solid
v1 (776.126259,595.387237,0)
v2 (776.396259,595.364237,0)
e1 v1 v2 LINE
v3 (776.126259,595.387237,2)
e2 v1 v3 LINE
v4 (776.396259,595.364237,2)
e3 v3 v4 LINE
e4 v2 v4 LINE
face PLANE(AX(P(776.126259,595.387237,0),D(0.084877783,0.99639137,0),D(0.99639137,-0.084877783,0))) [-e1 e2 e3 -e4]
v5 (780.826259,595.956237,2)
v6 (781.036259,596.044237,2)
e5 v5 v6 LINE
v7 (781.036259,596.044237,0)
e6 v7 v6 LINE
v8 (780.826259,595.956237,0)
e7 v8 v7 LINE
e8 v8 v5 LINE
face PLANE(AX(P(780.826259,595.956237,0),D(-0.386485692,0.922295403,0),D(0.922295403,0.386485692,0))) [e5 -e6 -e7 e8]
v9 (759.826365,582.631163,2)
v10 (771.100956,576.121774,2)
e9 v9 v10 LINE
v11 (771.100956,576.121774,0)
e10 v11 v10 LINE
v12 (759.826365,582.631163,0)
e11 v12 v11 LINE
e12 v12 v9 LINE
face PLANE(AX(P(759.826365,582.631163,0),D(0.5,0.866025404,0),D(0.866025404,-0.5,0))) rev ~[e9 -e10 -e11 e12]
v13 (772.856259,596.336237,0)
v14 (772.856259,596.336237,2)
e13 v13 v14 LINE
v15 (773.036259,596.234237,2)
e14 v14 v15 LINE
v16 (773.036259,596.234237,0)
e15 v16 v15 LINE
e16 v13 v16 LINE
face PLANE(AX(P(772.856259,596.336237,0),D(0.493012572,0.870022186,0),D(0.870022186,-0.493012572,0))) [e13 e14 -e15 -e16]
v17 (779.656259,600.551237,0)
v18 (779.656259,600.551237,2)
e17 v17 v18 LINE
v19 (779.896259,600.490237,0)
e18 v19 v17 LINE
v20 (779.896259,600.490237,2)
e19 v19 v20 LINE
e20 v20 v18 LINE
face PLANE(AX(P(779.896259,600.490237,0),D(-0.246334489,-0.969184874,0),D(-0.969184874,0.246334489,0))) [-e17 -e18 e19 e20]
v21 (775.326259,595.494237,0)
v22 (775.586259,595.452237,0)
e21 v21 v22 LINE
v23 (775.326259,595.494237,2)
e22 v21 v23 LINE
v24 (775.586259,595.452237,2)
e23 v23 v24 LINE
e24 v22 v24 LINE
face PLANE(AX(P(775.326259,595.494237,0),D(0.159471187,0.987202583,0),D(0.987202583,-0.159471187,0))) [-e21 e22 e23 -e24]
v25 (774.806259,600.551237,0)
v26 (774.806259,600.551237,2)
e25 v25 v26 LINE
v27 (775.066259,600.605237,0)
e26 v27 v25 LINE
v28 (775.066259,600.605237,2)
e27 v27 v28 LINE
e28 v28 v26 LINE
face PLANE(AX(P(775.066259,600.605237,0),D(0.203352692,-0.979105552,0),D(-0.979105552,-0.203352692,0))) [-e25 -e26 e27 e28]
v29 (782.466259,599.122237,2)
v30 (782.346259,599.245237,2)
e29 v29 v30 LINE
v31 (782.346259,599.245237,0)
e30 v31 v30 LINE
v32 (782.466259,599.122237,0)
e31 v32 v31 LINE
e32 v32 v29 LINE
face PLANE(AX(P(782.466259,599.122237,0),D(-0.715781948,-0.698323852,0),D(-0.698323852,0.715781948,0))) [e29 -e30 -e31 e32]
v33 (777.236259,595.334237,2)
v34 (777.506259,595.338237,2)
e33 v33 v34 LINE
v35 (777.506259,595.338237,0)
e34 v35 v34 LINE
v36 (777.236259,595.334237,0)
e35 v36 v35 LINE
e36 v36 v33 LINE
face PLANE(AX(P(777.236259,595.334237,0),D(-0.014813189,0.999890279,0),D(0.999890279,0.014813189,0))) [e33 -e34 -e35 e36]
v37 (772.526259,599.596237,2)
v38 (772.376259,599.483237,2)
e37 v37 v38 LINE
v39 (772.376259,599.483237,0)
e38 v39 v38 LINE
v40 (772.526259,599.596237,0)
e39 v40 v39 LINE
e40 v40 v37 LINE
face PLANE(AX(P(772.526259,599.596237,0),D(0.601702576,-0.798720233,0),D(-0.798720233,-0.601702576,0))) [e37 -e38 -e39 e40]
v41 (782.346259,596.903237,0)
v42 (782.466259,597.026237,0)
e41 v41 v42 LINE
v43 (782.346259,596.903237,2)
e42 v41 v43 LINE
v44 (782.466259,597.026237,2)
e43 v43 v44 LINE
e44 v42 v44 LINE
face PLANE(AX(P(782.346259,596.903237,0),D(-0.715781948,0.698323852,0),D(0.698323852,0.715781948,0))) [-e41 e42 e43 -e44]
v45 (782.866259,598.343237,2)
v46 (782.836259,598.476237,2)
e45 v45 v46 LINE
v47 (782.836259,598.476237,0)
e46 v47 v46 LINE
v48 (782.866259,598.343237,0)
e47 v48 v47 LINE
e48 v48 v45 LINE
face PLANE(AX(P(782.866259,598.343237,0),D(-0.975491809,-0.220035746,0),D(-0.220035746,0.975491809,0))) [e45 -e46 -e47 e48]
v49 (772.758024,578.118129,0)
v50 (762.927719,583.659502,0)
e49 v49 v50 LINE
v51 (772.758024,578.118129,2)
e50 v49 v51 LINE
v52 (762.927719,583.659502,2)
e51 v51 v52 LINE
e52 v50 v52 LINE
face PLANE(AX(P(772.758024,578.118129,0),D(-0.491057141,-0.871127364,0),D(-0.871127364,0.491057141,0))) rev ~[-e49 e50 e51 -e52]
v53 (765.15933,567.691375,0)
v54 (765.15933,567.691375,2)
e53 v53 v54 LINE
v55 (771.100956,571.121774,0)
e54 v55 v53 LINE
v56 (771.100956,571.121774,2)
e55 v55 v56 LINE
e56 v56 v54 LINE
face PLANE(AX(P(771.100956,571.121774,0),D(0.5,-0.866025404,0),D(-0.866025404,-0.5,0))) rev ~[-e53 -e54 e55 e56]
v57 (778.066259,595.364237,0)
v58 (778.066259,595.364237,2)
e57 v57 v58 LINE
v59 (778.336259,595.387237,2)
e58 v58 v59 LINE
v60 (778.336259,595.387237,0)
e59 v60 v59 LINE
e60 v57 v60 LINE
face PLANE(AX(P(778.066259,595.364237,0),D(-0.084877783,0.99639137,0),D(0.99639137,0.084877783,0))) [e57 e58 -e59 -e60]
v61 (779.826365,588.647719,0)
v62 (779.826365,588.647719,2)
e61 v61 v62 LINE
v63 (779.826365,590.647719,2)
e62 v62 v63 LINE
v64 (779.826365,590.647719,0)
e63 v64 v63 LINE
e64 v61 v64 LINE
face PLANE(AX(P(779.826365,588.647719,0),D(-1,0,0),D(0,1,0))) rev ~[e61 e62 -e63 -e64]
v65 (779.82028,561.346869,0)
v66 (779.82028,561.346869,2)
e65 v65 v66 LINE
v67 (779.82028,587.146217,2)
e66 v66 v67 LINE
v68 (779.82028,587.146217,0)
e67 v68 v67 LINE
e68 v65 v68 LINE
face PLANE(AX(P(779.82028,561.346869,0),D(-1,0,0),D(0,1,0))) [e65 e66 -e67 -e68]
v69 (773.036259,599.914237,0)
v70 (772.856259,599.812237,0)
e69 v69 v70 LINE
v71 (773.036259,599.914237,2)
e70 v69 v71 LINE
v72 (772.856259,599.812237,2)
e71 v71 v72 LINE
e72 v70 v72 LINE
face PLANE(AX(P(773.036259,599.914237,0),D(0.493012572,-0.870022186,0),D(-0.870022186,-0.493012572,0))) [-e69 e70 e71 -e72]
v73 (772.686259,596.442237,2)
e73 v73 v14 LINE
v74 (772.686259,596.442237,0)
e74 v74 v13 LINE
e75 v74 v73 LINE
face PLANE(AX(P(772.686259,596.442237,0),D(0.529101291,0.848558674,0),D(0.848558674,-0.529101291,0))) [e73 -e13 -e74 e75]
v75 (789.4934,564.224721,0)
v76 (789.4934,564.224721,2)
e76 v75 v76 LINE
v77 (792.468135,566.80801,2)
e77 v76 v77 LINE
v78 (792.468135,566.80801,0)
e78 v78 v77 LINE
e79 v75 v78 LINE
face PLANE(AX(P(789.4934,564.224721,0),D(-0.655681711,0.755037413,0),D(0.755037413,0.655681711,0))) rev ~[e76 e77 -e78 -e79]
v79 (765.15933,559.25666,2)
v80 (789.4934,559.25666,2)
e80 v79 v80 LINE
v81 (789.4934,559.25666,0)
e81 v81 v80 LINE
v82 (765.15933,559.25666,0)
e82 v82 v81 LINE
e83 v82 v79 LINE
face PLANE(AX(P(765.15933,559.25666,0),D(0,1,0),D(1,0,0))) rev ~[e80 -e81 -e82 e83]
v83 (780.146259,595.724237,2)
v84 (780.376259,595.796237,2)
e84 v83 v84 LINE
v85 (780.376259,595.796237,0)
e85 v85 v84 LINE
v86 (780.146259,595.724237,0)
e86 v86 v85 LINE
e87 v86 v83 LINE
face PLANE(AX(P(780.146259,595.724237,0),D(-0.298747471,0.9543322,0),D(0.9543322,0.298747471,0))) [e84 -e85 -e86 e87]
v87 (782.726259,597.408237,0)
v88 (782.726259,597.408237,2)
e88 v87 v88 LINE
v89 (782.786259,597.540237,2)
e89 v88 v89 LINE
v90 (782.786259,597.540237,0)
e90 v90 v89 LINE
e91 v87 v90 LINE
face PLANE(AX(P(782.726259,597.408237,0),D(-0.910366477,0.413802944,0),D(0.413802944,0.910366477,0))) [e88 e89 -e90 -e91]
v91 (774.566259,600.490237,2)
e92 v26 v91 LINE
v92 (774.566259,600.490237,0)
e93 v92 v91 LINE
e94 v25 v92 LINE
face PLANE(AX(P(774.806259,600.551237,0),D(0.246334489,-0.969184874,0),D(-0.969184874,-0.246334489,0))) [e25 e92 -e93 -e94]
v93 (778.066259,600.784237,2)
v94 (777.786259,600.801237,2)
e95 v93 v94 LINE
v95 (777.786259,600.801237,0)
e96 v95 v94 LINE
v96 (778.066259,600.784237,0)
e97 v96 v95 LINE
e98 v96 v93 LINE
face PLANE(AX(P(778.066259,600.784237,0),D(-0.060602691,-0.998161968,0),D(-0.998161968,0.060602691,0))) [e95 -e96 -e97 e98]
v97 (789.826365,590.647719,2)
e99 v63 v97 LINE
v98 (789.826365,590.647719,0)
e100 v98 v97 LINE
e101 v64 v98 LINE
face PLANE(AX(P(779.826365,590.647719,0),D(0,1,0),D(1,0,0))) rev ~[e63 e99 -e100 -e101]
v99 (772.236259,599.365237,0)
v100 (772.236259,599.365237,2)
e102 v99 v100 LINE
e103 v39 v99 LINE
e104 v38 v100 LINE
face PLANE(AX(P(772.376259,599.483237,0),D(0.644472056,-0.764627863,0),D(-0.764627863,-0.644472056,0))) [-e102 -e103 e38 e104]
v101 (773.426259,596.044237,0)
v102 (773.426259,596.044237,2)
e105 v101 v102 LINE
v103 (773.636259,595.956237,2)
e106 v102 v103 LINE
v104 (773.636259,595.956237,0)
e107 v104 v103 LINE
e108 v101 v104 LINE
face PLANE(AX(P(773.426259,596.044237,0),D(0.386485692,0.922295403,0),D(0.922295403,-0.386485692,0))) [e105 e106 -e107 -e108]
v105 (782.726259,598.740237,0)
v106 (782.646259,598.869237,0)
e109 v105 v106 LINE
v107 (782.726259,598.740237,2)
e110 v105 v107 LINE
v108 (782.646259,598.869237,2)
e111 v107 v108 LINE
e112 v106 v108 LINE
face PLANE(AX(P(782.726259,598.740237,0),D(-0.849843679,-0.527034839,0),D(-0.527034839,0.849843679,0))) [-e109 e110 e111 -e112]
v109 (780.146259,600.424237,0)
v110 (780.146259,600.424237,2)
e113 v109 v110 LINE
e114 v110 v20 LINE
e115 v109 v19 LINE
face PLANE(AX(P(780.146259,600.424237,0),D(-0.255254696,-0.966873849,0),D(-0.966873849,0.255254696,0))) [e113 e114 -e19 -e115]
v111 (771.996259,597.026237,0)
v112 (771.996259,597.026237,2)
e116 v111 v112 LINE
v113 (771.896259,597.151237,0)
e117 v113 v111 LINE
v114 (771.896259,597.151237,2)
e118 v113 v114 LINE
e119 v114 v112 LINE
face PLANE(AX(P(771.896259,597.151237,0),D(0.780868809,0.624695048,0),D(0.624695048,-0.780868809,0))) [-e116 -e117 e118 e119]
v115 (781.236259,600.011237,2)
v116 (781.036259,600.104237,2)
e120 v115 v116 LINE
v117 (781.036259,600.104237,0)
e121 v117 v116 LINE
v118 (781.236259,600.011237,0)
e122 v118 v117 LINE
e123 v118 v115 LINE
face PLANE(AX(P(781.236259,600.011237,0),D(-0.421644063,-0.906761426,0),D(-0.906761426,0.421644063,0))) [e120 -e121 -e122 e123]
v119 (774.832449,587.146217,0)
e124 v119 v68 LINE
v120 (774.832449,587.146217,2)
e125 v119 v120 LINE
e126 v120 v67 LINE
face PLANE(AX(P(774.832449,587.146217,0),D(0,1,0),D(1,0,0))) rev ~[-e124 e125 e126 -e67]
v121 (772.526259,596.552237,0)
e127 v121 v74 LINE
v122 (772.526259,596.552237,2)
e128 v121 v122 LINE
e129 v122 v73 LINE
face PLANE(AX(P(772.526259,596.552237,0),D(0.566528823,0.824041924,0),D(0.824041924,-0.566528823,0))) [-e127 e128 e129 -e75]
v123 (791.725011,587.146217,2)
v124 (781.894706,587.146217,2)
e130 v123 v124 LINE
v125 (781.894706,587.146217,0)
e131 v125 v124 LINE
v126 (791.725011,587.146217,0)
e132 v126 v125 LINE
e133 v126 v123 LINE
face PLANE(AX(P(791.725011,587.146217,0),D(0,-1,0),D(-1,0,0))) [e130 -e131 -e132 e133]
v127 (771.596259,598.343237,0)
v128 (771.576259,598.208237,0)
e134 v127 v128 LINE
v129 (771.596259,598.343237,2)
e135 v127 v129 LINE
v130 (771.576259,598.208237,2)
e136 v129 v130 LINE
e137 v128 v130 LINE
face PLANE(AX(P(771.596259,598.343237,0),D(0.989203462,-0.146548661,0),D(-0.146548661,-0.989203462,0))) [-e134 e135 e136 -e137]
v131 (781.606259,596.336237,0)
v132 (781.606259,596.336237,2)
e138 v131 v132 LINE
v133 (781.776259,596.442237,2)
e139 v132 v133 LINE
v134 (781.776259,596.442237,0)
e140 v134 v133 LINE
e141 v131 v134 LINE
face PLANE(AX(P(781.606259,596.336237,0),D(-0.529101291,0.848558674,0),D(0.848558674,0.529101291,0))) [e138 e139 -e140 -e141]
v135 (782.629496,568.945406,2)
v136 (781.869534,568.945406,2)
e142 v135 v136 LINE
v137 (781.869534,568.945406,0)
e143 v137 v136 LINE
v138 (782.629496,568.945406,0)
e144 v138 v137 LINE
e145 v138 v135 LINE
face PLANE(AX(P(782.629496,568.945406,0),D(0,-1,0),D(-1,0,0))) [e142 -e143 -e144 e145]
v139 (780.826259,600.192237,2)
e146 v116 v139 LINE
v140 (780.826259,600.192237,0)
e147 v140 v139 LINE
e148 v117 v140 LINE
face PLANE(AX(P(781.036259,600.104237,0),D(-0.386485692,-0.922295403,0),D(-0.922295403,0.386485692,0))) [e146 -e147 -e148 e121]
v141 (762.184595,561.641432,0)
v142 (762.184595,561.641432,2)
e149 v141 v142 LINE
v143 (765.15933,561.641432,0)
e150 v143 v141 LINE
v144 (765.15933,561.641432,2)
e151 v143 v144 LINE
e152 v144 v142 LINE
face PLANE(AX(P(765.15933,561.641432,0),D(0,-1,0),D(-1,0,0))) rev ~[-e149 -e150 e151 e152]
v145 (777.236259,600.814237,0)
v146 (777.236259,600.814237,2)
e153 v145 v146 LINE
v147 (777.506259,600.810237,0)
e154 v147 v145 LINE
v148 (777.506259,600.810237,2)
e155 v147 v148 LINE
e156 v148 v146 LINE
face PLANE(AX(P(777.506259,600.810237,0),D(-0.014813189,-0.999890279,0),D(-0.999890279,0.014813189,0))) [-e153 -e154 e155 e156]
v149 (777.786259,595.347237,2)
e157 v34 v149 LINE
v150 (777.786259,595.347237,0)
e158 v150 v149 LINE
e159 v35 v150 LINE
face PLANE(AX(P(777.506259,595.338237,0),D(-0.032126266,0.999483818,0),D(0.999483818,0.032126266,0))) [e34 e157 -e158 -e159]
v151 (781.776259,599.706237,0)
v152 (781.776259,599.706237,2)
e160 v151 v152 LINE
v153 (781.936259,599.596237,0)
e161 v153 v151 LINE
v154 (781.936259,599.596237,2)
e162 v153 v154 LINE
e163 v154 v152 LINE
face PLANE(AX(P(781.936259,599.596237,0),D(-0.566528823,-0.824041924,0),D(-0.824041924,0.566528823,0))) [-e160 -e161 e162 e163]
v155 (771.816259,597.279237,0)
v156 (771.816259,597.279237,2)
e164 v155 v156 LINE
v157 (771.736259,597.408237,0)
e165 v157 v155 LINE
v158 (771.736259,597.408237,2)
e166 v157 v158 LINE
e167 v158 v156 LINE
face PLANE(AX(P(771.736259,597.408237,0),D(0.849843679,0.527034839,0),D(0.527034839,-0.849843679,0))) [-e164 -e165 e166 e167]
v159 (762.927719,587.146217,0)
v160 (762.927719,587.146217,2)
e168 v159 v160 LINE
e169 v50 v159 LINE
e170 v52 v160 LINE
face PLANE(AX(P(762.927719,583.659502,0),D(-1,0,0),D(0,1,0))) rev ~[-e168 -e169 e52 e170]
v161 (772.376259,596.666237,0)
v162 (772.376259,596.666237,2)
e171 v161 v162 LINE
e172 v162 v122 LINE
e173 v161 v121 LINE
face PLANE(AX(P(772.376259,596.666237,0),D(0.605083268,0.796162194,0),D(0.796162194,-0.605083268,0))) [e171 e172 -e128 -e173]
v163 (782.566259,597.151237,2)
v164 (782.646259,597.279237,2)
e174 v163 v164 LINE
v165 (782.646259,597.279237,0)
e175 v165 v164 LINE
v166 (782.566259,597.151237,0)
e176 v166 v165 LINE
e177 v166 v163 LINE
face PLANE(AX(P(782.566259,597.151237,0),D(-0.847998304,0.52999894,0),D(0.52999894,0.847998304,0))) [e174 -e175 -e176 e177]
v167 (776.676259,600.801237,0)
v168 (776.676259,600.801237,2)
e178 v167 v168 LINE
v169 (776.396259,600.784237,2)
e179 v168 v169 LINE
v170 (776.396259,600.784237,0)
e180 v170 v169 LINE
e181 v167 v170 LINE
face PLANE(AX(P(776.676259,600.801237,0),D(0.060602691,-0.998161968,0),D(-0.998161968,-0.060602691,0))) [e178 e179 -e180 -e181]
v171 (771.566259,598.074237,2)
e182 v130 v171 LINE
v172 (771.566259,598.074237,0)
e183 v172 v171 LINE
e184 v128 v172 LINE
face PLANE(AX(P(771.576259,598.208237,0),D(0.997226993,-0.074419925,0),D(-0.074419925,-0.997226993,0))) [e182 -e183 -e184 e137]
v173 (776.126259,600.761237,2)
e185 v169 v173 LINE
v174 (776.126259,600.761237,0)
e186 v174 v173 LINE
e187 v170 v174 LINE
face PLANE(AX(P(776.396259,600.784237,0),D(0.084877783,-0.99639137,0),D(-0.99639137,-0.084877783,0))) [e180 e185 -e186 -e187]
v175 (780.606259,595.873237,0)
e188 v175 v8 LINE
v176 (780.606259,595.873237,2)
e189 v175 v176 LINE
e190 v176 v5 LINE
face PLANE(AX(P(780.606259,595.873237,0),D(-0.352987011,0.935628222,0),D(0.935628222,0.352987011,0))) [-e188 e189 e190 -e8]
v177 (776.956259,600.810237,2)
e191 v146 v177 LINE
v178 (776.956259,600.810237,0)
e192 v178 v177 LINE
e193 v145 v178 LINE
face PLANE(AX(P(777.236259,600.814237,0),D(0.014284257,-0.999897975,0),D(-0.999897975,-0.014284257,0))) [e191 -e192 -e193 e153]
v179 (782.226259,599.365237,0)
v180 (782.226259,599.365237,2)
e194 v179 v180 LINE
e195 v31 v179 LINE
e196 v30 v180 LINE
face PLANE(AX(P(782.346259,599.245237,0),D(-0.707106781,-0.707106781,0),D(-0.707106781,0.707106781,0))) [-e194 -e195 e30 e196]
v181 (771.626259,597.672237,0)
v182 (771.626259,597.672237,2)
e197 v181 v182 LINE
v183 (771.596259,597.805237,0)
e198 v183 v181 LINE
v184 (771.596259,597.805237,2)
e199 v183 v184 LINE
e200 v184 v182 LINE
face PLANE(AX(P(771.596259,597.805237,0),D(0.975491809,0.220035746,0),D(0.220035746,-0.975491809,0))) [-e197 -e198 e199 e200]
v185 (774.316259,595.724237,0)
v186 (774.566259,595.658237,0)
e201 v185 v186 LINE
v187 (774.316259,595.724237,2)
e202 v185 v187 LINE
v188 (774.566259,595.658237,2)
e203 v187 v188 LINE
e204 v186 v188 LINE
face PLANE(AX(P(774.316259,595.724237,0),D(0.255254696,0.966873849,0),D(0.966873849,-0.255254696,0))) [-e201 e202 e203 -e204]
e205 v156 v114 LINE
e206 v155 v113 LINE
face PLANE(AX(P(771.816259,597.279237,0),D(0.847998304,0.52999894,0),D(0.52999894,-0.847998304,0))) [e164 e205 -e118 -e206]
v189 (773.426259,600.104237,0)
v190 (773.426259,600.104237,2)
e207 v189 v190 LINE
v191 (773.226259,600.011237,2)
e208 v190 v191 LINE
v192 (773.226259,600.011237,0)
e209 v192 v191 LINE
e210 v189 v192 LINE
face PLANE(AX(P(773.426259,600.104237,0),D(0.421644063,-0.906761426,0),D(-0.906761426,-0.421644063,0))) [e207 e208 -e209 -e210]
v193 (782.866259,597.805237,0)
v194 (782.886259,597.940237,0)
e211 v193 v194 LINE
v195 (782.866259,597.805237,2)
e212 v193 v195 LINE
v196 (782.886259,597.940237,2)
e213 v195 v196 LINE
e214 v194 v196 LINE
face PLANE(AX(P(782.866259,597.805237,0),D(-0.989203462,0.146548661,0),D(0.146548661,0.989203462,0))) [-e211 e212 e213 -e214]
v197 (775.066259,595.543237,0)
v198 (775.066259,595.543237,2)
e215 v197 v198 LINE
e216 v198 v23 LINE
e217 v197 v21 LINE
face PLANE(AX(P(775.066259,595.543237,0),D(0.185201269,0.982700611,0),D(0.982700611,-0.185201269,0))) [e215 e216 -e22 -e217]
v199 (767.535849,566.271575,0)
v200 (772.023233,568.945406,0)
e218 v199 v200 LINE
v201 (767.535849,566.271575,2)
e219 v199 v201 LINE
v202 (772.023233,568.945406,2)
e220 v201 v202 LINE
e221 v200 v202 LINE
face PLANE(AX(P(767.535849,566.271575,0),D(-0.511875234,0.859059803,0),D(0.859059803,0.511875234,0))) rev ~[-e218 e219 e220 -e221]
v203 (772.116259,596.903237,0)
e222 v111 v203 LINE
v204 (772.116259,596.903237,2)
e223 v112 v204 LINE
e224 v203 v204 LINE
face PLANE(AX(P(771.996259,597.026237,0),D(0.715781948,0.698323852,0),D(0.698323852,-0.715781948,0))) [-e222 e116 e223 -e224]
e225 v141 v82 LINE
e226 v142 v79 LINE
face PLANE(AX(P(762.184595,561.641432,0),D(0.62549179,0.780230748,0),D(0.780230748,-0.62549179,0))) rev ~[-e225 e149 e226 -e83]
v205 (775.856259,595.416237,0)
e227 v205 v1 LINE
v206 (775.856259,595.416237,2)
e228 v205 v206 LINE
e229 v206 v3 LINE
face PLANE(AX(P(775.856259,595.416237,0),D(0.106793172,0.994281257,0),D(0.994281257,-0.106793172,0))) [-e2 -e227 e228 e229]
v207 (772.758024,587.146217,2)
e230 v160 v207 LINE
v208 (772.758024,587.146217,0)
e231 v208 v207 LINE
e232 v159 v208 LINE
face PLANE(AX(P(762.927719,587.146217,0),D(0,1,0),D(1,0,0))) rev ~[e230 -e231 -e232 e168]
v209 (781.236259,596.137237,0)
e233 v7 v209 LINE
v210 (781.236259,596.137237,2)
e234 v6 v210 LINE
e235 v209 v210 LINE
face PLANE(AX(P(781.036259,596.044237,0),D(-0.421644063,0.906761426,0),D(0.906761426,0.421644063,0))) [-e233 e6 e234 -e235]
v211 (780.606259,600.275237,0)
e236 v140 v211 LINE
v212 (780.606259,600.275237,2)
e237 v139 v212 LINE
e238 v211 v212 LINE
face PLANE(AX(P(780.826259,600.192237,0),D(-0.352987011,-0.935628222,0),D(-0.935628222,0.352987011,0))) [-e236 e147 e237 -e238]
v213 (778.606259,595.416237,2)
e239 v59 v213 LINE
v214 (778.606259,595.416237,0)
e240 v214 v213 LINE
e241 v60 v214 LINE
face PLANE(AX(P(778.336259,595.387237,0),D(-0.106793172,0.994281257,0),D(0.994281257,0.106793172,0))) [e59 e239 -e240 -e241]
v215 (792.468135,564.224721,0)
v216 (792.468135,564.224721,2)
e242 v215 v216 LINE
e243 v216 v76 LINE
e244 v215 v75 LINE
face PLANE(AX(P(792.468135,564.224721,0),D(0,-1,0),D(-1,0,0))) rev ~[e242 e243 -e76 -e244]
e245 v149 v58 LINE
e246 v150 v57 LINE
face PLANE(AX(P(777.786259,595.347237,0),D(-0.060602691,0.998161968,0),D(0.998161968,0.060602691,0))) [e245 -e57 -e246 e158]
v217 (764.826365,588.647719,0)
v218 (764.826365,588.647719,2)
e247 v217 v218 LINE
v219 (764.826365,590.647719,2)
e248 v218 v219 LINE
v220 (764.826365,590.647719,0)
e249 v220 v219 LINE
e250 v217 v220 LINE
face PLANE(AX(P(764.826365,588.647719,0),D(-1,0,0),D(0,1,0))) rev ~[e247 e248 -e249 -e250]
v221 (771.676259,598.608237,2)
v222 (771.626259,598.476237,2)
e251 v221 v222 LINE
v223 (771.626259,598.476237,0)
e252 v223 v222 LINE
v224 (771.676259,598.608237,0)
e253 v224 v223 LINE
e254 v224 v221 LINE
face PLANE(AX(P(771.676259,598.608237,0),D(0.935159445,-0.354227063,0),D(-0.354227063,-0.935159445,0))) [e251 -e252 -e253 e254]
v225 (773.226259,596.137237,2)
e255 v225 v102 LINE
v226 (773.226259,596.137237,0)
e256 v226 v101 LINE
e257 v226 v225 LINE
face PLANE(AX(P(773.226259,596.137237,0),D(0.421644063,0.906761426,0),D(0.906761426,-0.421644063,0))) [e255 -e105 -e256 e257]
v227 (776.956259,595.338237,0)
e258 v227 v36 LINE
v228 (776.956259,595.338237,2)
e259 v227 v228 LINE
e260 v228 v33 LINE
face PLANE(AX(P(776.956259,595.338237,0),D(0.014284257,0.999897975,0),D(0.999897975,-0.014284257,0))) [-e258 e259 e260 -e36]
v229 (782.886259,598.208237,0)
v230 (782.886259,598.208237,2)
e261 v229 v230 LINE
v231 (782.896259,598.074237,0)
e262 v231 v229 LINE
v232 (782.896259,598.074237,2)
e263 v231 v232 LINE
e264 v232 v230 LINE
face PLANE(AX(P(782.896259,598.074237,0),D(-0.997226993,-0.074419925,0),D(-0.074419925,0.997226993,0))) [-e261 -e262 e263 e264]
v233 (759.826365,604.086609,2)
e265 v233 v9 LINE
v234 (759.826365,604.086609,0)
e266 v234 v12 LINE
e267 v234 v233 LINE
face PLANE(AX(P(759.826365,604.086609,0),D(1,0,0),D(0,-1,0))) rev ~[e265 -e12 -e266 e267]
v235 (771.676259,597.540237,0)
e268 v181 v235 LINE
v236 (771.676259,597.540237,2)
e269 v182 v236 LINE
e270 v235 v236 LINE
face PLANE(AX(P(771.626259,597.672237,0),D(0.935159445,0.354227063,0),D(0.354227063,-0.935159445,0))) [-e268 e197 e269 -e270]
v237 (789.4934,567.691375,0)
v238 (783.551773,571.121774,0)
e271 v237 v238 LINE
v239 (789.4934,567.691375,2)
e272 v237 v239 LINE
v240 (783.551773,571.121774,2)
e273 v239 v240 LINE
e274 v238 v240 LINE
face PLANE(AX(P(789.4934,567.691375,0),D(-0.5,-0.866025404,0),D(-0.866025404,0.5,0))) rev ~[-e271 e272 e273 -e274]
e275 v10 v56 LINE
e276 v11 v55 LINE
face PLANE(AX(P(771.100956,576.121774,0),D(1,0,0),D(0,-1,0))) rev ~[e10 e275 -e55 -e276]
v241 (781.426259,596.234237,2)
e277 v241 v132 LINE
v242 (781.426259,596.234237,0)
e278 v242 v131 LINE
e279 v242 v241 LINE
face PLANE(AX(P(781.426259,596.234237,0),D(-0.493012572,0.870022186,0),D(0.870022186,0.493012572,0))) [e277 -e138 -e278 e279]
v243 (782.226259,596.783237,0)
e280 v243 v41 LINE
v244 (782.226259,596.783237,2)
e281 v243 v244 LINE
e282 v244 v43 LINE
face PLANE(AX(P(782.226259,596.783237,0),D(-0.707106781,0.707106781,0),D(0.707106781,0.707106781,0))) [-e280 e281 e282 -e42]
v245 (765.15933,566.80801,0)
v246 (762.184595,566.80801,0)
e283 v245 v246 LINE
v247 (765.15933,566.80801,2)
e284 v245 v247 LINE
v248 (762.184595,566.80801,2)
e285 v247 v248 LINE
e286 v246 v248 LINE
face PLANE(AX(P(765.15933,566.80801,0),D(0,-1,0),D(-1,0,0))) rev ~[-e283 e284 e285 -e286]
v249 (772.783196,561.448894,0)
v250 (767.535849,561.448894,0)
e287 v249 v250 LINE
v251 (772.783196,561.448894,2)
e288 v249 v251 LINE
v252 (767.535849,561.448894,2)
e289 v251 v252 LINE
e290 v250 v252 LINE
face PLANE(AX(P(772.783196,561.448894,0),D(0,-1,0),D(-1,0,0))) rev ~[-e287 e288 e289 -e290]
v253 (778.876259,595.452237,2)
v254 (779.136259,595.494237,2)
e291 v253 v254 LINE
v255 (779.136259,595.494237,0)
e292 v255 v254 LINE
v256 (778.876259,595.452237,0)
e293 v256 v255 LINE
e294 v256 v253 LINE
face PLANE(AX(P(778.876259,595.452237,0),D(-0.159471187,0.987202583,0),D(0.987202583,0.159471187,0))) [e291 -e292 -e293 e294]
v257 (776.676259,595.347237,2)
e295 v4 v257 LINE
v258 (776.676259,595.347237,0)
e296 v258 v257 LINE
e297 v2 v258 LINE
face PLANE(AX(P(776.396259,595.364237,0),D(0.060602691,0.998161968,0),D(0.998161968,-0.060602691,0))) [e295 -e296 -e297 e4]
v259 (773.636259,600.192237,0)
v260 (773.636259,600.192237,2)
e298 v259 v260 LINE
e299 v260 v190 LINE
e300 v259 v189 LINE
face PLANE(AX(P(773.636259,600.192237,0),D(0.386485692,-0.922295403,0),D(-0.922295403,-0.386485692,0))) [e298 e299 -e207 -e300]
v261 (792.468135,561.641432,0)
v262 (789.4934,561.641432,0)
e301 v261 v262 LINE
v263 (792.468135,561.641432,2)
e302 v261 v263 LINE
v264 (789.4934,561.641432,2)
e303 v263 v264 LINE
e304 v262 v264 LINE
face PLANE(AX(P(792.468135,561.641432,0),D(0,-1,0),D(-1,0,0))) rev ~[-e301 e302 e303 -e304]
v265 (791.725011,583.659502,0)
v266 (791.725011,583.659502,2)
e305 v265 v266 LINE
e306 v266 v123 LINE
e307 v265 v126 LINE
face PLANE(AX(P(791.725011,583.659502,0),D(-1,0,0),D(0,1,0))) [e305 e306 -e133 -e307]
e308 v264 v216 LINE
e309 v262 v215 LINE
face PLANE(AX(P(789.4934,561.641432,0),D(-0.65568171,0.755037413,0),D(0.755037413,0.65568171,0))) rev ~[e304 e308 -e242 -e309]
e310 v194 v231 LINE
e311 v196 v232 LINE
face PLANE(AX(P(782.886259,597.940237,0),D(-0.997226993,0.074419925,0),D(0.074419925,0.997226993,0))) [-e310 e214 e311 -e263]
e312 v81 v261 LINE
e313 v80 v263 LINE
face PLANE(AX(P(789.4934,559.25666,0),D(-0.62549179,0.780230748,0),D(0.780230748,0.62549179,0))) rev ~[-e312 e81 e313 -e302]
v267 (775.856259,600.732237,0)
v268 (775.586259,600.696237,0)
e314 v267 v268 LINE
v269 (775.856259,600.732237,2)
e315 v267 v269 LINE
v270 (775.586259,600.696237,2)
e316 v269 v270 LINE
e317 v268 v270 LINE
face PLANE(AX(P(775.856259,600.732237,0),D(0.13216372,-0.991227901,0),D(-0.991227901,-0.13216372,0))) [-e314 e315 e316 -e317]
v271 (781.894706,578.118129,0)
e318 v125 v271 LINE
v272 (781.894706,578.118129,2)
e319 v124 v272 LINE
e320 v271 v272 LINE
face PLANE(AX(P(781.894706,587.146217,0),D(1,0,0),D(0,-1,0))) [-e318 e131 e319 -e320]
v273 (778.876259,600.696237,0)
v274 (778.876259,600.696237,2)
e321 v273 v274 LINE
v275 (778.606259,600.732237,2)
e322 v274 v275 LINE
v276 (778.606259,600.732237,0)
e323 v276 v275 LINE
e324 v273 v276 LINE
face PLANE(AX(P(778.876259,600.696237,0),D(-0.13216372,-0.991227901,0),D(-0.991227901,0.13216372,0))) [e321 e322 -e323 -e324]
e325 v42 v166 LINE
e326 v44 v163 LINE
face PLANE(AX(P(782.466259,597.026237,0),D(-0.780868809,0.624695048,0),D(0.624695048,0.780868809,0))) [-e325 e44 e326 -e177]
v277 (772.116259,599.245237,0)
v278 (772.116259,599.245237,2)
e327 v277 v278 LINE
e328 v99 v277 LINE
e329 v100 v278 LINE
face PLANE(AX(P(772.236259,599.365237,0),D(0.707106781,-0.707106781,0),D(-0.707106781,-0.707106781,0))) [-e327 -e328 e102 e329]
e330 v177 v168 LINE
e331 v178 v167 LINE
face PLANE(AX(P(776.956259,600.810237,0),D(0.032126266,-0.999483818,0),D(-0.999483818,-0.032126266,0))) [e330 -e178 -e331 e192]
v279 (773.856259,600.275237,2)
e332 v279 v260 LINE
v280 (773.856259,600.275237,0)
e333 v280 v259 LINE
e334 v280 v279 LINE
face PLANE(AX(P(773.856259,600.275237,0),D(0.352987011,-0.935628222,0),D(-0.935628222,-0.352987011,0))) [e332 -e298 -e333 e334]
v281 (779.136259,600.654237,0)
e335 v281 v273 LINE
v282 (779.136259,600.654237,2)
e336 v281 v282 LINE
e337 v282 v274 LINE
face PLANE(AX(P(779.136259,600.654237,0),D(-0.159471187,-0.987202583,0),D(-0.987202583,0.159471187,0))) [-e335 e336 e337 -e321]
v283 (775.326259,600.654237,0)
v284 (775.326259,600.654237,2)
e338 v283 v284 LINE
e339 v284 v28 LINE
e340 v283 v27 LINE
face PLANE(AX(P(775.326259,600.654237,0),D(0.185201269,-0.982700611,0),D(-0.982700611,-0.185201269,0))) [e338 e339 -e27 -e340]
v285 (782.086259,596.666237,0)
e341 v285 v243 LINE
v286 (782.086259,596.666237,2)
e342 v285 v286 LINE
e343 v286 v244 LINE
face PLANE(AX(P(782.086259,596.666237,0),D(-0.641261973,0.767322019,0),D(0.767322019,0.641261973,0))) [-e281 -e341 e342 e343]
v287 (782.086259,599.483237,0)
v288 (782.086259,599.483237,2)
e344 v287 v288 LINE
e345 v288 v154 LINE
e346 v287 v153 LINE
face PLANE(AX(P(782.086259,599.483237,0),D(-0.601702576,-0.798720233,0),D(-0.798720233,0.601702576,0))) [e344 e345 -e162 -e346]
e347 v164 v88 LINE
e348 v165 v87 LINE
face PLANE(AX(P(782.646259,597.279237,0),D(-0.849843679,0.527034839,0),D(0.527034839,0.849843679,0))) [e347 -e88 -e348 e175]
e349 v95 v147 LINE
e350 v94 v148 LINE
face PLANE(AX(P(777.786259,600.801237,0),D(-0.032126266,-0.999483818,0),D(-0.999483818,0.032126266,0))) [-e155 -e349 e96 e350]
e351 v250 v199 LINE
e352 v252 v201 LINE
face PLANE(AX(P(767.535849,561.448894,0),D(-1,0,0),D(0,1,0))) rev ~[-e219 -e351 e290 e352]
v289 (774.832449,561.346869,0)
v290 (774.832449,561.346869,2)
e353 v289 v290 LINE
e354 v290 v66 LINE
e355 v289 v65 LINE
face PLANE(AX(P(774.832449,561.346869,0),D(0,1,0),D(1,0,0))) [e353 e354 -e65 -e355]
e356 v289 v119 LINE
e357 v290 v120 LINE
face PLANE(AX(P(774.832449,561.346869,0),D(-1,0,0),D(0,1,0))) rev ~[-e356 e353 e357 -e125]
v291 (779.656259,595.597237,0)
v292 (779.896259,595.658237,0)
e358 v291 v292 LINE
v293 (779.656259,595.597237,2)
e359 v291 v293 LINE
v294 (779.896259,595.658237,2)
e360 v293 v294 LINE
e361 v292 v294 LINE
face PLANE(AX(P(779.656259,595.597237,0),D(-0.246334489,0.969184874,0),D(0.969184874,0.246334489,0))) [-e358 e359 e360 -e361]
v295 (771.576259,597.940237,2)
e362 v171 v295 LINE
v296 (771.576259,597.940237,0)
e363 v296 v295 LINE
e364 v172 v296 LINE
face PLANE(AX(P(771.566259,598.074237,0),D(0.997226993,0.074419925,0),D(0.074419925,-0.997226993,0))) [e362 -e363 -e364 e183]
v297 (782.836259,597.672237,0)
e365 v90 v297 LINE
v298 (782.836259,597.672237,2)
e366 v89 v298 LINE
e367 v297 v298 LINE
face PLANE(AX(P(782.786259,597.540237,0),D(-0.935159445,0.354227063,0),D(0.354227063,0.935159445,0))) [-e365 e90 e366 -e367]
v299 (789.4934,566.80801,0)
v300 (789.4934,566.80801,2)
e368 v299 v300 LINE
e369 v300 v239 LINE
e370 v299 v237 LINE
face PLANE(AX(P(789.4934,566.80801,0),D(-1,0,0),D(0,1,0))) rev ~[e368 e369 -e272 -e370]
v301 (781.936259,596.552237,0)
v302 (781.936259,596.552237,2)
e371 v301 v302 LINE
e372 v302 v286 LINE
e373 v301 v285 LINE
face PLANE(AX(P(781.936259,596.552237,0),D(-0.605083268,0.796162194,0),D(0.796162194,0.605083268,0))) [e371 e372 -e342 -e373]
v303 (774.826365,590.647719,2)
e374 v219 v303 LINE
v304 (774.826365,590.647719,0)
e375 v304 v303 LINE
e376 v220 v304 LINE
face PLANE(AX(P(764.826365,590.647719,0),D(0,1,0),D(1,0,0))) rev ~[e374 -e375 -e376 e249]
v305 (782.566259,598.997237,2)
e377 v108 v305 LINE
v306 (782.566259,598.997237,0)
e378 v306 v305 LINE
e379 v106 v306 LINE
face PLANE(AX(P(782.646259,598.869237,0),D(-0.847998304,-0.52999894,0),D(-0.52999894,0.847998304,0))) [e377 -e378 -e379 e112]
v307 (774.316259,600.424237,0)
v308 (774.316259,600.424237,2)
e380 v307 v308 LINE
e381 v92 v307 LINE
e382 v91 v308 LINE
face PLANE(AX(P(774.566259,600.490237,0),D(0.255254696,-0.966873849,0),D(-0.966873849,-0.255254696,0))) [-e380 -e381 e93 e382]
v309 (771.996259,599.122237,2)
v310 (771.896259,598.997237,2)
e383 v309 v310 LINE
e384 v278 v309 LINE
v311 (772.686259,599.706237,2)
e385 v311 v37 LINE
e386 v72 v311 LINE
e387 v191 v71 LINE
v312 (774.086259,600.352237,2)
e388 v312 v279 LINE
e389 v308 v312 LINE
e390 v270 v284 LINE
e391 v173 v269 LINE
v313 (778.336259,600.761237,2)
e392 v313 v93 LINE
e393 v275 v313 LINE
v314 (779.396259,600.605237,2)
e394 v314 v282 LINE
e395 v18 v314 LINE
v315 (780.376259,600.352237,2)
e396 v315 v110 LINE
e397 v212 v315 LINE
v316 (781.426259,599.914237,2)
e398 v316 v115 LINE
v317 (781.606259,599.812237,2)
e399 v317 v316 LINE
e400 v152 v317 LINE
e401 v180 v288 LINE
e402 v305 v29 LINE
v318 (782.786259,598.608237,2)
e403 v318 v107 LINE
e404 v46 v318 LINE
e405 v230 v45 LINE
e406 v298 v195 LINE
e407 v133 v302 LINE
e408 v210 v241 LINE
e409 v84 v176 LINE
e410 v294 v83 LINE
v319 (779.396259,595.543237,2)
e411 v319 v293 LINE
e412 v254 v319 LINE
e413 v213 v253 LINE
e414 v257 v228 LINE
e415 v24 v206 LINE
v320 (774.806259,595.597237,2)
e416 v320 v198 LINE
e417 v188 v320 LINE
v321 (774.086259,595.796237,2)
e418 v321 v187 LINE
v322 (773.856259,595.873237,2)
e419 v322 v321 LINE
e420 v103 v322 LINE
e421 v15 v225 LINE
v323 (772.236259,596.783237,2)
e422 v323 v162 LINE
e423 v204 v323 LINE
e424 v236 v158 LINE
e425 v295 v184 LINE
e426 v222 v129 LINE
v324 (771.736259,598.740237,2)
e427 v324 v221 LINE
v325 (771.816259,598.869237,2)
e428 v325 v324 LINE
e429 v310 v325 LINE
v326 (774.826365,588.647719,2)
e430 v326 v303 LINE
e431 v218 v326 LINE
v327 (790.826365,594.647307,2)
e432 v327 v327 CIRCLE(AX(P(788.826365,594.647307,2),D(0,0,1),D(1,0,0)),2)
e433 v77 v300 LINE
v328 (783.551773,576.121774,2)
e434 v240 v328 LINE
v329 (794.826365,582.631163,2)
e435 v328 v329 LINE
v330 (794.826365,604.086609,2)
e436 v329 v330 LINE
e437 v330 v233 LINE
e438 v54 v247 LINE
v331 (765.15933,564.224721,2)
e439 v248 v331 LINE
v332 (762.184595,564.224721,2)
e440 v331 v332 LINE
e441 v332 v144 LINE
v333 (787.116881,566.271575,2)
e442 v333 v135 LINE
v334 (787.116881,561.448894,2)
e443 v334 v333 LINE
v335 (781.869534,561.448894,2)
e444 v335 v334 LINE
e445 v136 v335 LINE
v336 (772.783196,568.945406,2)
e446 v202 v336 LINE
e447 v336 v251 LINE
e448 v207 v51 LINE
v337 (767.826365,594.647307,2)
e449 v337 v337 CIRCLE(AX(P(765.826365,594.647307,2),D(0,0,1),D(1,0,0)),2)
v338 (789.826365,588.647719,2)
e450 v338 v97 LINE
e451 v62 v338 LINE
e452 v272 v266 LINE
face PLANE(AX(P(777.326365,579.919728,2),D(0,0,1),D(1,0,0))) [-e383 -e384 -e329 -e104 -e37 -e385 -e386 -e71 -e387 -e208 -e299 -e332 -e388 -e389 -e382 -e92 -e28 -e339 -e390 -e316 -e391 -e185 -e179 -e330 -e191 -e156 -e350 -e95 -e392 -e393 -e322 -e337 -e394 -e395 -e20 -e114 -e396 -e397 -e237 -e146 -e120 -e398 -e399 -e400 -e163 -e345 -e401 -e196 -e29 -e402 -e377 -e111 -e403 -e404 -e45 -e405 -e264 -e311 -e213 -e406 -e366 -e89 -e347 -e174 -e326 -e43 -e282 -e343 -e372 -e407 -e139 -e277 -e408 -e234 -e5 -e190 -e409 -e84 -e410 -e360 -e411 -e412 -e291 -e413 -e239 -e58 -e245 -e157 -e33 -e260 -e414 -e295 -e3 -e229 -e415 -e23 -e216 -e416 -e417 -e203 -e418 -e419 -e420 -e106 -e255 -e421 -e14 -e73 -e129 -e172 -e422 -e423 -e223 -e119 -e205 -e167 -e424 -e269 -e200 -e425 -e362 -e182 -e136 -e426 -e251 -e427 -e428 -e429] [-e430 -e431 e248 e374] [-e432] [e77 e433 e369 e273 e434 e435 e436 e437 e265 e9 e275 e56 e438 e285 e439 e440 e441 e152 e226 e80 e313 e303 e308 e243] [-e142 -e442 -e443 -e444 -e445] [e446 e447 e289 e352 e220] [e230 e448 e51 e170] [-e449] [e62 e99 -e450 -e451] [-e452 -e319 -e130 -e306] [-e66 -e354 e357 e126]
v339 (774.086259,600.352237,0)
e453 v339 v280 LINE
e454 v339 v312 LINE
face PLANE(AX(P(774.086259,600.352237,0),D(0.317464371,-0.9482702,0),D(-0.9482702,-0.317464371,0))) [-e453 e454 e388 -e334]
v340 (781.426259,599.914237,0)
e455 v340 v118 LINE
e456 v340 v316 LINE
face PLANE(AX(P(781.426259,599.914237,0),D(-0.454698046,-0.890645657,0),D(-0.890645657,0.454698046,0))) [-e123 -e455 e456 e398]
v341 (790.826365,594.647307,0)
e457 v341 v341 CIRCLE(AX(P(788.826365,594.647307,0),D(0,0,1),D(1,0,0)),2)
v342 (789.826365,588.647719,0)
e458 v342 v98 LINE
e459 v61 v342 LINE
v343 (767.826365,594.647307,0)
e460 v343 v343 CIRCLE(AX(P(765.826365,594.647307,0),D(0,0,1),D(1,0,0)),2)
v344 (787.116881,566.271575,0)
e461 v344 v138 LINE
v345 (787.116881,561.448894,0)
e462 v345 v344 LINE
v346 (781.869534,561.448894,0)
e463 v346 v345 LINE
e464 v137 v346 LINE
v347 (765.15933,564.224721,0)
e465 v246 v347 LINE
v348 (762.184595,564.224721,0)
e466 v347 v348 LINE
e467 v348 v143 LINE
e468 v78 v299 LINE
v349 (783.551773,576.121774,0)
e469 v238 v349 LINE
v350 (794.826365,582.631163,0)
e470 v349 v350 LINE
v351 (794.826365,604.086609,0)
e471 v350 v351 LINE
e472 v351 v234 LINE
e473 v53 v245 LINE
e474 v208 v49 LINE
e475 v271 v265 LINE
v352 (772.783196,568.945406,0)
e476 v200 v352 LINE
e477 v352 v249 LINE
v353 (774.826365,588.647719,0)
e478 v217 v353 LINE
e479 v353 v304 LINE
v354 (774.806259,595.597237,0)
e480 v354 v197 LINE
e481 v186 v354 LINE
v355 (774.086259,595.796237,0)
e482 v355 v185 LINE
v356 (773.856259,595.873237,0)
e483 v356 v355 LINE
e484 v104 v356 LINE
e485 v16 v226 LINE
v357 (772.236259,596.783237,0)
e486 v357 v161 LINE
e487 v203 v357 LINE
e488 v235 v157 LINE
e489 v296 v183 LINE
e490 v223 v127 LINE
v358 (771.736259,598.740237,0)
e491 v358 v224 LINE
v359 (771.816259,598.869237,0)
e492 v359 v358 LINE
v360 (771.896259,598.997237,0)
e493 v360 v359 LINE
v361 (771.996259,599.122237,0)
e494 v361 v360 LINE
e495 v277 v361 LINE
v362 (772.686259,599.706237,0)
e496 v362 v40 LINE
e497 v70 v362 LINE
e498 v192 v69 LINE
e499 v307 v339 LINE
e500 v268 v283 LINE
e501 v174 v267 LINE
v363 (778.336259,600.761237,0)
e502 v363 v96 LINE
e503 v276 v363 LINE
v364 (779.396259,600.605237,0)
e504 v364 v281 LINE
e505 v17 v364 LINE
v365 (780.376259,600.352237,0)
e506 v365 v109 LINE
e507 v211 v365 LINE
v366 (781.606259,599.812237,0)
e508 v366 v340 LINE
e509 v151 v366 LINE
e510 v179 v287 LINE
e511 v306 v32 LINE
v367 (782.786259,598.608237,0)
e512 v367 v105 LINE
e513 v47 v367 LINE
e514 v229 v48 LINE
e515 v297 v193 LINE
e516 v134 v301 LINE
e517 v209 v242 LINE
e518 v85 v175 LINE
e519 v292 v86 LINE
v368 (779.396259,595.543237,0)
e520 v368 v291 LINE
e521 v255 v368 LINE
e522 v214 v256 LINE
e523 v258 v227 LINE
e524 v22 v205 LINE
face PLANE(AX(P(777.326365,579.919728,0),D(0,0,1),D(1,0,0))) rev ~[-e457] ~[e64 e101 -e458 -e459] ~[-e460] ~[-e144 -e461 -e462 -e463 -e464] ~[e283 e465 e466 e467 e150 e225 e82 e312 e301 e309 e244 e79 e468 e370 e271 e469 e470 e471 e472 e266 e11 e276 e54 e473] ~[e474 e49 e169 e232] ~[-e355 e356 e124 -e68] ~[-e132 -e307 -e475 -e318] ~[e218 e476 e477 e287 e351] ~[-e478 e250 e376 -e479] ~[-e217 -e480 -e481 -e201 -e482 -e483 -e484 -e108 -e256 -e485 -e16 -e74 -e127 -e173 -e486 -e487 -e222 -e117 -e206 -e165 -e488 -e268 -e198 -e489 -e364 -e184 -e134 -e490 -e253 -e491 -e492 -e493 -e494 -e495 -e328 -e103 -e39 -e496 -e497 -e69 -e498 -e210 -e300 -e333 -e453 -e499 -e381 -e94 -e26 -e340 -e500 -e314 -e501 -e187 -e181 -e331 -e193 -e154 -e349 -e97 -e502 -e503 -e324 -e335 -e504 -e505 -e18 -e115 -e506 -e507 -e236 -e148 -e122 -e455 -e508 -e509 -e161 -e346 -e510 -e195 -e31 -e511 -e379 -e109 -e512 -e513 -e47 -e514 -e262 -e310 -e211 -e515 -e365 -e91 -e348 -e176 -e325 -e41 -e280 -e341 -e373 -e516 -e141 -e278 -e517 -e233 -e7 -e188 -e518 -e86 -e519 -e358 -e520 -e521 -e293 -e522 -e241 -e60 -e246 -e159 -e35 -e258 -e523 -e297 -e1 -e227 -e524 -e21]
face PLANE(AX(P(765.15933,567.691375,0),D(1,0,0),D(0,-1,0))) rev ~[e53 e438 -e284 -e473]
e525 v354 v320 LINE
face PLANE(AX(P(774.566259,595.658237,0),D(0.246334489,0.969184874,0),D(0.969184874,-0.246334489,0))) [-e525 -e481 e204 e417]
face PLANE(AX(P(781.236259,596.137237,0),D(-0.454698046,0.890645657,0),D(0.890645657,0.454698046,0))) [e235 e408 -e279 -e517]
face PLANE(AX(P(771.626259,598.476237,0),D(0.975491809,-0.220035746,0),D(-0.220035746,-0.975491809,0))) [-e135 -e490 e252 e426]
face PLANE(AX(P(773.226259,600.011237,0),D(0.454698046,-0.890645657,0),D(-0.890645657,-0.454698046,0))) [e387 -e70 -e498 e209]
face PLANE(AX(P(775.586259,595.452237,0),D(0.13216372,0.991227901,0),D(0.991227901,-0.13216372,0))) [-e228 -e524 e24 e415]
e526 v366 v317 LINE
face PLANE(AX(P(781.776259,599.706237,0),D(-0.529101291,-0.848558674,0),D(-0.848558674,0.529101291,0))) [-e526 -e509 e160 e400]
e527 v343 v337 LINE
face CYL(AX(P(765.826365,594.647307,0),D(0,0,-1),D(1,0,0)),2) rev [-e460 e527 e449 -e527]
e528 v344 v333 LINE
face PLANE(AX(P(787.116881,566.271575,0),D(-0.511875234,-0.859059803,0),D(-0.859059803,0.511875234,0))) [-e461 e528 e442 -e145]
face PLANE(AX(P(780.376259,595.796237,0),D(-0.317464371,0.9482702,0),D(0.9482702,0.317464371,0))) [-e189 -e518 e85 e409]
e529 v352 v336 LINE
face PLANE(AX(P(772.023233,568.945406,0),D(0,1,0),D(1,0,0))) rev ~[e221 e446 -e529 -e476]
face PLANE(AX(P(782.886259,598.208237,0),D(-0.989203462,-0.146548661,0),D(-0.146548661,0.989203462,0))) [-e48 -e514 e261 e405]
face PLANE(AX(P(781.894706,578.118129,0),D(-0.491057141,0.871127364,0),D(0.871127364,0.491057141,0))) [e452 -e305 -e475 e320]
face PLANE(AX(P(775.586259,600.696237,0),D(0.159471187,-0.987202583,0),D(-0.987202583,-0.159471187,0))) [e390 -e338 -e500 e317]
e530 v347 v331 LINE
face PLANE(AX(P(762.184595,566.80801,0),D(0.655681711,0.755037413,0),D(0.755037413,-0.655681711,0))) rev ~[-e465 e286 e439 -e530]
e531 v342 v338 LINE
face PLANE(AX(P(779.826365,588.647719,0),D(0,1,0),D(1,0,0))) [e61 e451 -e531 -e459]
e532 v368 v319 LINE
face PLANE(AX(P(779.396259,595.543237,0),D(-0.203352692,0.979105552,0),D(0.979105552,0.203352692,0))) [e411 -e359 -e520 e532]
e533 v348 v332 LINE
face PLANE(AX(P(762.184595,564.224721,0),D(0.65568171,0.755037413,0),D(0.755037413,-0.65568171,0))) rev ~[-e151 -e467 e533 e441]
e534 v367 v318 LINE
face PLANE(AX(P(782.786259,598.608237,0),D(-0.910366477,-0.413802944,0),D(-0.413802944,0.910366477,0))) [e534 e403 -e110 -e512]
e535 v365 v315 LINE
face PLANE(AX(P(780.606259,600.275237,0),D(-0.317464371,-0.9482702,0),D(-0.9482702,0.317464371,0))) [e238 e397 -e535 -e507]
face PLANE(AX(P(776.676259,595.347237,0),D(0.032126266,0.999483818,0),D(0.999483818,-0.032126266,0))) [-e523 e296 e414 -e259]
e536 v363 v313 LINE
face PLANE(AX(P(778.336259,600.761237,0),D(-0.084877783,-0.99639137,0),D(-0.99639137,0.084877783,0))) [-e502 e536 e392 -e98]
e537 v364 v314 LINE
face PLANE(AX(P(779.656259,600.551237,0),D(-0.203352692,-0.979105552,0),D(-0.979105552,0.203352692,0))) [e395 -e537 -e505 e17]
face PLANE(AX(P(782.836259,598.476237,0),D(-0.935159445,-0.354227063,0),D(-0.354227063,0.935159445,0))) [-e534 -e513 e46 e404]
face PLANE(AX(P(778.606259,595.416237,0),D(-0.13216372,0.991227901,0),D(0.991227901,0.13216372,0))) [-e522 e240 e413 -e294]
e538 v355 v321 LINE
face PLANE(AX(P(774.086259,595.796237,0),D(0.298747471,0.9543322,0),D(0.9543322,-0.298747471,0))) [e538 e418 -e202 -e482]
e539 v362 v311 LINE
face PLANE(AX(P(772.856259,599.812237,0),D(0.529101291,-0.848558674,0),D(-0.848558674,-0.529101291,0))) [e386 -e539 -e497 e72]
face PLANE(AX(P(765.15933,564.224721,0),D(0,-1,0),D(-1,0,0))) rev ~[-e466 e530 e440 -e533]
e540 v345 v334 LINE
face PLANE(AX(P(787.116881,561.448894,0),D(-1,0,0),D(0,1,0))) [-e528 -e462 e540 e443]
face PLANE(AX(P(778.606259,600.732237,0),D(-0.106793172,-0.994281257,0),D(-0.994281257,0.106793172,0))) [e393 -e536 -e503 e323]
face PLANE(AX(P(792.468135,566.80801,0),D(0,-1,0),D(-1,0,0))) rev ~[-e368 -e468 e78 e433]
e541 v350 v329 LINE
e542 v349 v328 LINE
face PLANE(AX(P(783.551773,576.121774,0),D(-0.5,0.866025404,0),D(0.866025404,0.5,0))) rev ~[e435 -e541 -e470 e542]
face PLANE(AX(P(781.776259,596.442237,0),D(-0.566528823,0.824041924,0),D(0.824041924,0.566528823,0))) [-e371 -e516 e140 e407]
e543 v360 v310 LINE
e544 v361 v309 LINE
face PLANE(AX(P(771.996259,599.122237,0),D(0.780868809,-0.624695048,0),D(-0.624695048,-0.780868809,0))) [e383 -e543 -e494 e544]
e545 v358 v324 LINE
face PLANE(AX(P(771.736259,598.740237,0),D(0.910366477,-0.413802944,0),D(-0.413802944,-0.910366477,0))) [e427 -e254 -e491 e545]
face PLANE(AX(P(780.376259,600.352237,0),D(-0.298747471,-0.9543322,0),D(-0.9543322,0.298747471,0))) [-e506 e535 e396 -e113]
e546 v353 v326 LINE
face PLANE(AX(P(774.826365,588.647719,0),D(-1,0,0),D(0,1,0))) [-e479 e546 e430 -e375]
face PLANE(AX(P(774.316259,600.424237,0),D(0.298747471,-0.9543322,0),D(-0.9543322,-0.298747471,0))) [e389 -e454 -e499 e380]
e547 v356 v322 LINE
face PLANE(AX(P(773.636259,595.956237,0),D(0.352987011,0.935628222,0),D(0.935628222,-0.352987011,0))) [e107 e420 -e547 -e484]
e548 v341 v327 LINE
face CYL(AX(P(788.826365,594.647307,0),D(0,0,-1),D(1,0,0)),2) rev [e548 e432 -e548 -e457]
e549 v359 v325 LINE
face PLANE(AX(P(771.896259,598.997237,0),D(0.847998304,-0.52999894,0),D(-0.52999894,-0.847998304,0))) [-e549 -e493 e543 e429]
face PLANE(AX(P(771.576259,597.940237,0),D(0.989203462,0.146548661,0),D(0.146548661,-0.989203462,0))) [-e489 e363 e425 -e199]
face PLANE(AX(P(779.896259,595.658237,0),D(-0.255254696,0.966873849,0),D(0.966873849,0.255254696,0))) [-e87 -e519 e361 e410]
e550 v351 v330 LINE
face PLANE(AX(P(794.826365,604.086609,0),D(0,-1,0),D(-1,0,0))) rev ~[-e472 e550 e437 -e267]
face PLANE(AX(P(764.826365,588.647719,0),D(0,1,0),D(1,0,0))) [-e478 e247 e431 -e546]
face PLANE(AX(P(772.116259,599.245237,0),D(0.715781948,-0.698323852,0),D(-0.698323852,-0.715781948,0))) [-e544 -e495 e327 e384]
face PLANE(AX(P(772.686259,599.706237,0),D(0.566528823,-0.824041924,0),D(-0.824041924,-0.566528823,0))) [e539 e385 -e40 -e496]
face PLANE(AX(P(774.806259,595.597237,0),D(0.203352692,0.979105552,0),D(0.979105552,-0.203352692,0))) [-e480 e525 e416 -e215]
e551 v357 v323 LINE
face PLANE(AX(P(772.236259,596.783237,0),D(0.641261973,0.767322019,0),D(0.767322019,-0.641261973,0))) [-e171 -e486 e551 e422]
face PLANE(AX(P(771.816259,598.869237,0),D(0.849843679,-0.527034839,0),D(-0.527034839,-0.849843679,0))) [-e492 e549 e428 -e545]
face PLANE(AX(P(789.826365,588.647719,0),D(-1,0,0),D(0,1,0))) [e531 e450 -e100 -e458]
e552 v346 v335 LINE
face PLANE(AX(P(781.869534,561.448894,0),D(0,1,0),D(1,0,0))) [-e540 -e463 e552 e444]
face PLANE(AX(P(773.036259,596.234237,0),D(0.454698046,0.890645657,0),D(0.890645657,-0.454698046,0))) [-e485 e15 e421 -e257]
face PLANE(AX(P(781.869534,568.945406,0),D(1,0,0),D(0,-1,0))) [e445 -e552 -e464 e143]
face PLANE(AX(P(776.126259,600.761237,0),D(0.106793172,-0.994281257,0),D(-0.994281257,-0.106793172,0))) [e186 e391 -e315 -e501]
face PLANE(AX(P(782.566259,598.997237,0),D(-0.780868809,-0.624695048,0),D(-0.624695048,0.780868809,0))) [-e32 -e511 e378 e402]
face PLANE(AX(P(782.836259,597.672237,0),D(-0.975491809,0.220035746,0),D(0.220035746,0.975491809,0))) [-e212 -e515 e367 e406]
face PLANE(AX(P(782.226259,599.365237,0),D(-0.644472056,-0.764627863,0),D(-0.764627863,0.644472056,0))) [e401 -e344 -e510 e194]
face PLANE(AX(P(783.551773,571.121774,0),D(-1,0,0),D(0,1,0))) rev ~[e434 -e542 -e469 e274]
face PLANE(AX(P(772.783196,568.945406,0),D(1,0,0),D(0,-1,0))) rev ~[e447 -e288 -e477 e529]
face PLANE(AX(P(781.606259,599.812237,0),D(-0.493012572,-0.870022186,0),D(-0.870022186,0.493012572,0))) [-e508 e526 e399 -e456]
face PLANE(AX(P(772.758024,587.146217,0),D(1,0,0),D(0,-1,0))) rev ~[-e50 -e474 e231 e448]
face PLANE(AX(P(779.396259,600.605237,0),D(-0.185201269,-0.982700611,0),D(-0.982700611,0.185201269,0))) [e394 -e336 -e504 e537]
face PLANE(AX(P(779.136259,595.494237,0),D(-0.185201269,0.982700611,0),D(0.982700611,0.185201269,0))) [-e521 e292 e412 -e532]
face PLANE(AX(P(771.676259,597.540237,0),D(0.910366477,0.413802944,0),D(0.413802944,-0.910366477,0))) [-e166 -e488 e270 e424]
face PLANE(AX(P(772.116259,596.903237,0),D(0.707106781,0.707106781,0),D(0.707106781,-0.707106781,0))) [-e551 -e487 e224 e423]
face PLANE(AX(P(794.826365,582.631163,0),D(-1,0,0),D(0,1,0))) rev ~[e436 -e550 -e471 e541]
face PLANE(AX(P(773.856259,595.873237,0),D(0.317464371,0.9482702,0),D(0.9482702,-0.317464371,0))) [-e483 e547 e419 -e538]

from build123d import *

# Parameters (mm, degrees)
MODEL_R         = 2
MODEL_W         = 10
MODEL_H         = 2
MODEL_W_2       = 4.987831099
MODEL_H_2       = 25.799348384
EXTRUDE_1_DEPTH = 2


with BuildPart() as part:
    # Model → 凸台-拉伸1 (new body)
    with BuildSketch(Plane.XY):
        Polygon((794.826364885, 604.086609439), (759.826364885, 604.086609439), (759.826364885, 582.631162925), (771.100956458, 576.121774445), (771.100956458, 571.121774445), (765.159330178, 567.691374913), (765.159330178, 566.808009524), (762.184594735, 566.808009524), (765.159330178, 564.224720814), (762.184594735, 564.224720814), (765.159330178, 561.641432105), (762.184594735, 561.641432105), (765.159330178, 559.256659904), (789.493399591, 559.256659904), (792.468135034, 561.641432105), (789.493399591, 561.641432105), (792.468135034, 564.224720814), (789.493399591, 564.224720814), (792.468135034, 566.808009524), (789.493399591, 566.808009524), (789.493399591, 567.691374913), (783.551773312, 571.121774445), (783.551773312, 576.121774445), (794.826364885, 582.631162925), align=None)
        with Locations((765.826364885, 594.647306527)):
            Circle(MODEL_R, mode=Mode.SUBTRACT)
        with Locations((788.826364885, 594.647306527)):
            Circle(MODEL_R, mode=Mode.SUBTRACT)
        with Locations((784.826364885, 589.647718545)):
            Rectangle(MODEL_W, MODEL_H, mode=Mode.SUBTRACT)
        with Locations((769.826364885, 589.647718545)):
            Rectangle(MODEL_W, MODEL_H, mode=Mode.SUBTRACT)
        Polygon((791.725011171, 587.146217285), (781.894706262, 587.146217285), (781.894706262, 578.118128773), (791.725011171, 583.659501515), align=None, mode=Mode.SUBTRACT)
        with Locations((777.326364885, 574.246543093)):
            Rectangle(MODEL_W_2, MODEL_H_2, mode=Mode.SUBTRACT)
        Polygon((787.11688102, 566.27157462), (782.629496351, 568.945406022), (781.869533608, 568.945406022), (781.869533608, 561.448894487), (787.11688102, 561.448894487), align=None, mode=Mode.SUBTRACT)
        Polygon((762.927718599, 587.146217285), (772.758023508, 587.146217285), (772.758023508, 578.118128773), (762.927718599, 583.659501515), align=None, mode=Mode.SUBTRACT)
        Polygon((767.53584875, 566.27157462), (772.023233419, 568.945406022), (772.783196161, 568.945406022), (772.783196161, 561.448894487), (767.53584875, 561.448894487), align=None, mode=Mode.SUBTRACT)
        Polygon((782.896259254, 598.074237023), (782.886259254, 598.208237023), (782.866259254, 598.343237023), (782.836259254, 598.476237023), (782.786259254, 598.608237023), (782.726259254, 598.740237023), (782.646259254, 598.869237023), (782.566259254, 598.997237023), (782.466259254, 599.122237023), (782.346259254, 599.245237023), (782.226259254, 599.365237023), (782.086259254, 599.483237023), (781.936259254, 599.596237023), (781.776259254, 599.706237023), (781.606259254, 599.812237023), (781.426259254, 599.914237023), (781.236259254, 600.011237023), (781.036259254, 600.104237023), (780.826259254, 600.192237023), (780.606259254, 600.275237023), (780.376259254, 600.352237023), (780.146259254, 600.424237023), (779.896259254, 600.490237023), (779.656259254, 600.551237023), (779.396259254, 600.605237023), (779.136259254, 600.654237023), (778.876259254, 600.696237023), (778.606259254, 600.732237023), (778.336259254, 600.761237023), (778.066259254, 600.784237023), (777.786259254, 600.801237023), (777.506259254, 600.810237023), (777.236259254, 600.814237023), (776.956259254, 600.810237023), (776.676259254, 600.801237023), (776.396259254, 600.784237023), (776.126259254, 600.761237023), (775.856259254, 600.732237023), (775.586259254, 600.696237023), (775.326259254, 600.654237023), (775.066259254, 600.605237023), (774.806259254, 600.551237023), (774.566259254, 600.490237023), (774.316259254, 600.424237023), (774.086259254, 600.352237023), (773.856259254, 600.275237023), (773.636259254, 600.192237023), (773.426259254, 600.104237023), (773.226259254, 600.011237023), (773.036259254, 599.914237023), (772.856259254, 599.812237023), (772.686259254, 599.706237023), (772.526259254, 599.596237023), (772.376259254, 599.483237023), (772.236259254, 599.365237023), (772.116259254, 599.245237023), (771.996259254, 599.122237023), (771.896259254, 598.997237023), (771.816259254, 598.869237023), (771.736259254, 598.740237023), (771.676259254, 598.608237023), (771.626259254, 598.476237023), (771.596259254, 598.343237023), (771.576259254, 598.208237023), (771.566259254, 598.074237023), (771.576259254, 597.940237023), (771.596259254, 597.805237023), (771.626259254, 597.672237023), (771.676259254, 597.540237023), (771.736259254, 597.408237023), (771.816259254, 597.279237023), (771.896259254, 597.151237023), (771.996259254, 597.026237023), (772.116259254, 596.903237023), (772.236259254, 596.783237023), (772.376259254, 596.666237023), (772.526259254, 596.552237023), (772.686259254, 596.442237023), (772.856259254, 596.336237023), (773.036259254, 596.234237023), (773.226259254, 596.137237023), (773.426259254, 596.044237023), (773.636259254, 595.956237023), (773.856259254, 595.873237023), (774.086259254, 595.796237023), (774.316259254, 595.724237023), (774.566259254, 595.658237023), (774.806259254, 595.597237023), (775.066259254, 595.543237023), (775.326259254, 595.494237023), (775.586259254, 595.452237023), (775.856259254, 595.416237023), (776.126259254, 595.387237023), (776.396259254, 595.364237023), (776.676259254, 595.347237023), (776.956259254, 595.338237023), (777.236259254, 595.334237023), (777.506259254, 595.338237023), (777.786259254, 595.347237023), (778.066259254, 595.364237023), (778.336259254, 595.387237023), (778.606259254, 595.416237023), (778.876259254, 595.452237023), (779.136259254, 595.494237023), (779.396259254, 595.543237023), (779.656259254, 595.597237023), (779.896259254, 595.658237023), (780.146259254, 595.724237023), (780.376259254, 595.796237023), (780.606259254, 595.873237023), (780.826259254, 595.956237023), (781.036259254, 596.044237023), (781.236259254, 596.137237023), (781.426259254, 596.234237023), (781.606259254, 596.336237023), (781.776259254, 596.442237023), (781.936259254, 596.552237023), (782.086259254, 596.666237023), (782.226259254, 596.783237023), (782.346259254, 596.903237023), (782.466259254, 597.026237023), (782.566259254, 597.151237023), (782.646259254, 597.279237023), (782.726259254, 597.408237023), (782.786259254, 597.540237023), (782.836259254, 597.672237023), (782.866259254, 597.805237023), (782.886259254, 597.940237023), align=None, mode=Mode.SUBTRACT)
    extrude(amount=EXTRUDE_1_DEPTH)


solid = part.part
